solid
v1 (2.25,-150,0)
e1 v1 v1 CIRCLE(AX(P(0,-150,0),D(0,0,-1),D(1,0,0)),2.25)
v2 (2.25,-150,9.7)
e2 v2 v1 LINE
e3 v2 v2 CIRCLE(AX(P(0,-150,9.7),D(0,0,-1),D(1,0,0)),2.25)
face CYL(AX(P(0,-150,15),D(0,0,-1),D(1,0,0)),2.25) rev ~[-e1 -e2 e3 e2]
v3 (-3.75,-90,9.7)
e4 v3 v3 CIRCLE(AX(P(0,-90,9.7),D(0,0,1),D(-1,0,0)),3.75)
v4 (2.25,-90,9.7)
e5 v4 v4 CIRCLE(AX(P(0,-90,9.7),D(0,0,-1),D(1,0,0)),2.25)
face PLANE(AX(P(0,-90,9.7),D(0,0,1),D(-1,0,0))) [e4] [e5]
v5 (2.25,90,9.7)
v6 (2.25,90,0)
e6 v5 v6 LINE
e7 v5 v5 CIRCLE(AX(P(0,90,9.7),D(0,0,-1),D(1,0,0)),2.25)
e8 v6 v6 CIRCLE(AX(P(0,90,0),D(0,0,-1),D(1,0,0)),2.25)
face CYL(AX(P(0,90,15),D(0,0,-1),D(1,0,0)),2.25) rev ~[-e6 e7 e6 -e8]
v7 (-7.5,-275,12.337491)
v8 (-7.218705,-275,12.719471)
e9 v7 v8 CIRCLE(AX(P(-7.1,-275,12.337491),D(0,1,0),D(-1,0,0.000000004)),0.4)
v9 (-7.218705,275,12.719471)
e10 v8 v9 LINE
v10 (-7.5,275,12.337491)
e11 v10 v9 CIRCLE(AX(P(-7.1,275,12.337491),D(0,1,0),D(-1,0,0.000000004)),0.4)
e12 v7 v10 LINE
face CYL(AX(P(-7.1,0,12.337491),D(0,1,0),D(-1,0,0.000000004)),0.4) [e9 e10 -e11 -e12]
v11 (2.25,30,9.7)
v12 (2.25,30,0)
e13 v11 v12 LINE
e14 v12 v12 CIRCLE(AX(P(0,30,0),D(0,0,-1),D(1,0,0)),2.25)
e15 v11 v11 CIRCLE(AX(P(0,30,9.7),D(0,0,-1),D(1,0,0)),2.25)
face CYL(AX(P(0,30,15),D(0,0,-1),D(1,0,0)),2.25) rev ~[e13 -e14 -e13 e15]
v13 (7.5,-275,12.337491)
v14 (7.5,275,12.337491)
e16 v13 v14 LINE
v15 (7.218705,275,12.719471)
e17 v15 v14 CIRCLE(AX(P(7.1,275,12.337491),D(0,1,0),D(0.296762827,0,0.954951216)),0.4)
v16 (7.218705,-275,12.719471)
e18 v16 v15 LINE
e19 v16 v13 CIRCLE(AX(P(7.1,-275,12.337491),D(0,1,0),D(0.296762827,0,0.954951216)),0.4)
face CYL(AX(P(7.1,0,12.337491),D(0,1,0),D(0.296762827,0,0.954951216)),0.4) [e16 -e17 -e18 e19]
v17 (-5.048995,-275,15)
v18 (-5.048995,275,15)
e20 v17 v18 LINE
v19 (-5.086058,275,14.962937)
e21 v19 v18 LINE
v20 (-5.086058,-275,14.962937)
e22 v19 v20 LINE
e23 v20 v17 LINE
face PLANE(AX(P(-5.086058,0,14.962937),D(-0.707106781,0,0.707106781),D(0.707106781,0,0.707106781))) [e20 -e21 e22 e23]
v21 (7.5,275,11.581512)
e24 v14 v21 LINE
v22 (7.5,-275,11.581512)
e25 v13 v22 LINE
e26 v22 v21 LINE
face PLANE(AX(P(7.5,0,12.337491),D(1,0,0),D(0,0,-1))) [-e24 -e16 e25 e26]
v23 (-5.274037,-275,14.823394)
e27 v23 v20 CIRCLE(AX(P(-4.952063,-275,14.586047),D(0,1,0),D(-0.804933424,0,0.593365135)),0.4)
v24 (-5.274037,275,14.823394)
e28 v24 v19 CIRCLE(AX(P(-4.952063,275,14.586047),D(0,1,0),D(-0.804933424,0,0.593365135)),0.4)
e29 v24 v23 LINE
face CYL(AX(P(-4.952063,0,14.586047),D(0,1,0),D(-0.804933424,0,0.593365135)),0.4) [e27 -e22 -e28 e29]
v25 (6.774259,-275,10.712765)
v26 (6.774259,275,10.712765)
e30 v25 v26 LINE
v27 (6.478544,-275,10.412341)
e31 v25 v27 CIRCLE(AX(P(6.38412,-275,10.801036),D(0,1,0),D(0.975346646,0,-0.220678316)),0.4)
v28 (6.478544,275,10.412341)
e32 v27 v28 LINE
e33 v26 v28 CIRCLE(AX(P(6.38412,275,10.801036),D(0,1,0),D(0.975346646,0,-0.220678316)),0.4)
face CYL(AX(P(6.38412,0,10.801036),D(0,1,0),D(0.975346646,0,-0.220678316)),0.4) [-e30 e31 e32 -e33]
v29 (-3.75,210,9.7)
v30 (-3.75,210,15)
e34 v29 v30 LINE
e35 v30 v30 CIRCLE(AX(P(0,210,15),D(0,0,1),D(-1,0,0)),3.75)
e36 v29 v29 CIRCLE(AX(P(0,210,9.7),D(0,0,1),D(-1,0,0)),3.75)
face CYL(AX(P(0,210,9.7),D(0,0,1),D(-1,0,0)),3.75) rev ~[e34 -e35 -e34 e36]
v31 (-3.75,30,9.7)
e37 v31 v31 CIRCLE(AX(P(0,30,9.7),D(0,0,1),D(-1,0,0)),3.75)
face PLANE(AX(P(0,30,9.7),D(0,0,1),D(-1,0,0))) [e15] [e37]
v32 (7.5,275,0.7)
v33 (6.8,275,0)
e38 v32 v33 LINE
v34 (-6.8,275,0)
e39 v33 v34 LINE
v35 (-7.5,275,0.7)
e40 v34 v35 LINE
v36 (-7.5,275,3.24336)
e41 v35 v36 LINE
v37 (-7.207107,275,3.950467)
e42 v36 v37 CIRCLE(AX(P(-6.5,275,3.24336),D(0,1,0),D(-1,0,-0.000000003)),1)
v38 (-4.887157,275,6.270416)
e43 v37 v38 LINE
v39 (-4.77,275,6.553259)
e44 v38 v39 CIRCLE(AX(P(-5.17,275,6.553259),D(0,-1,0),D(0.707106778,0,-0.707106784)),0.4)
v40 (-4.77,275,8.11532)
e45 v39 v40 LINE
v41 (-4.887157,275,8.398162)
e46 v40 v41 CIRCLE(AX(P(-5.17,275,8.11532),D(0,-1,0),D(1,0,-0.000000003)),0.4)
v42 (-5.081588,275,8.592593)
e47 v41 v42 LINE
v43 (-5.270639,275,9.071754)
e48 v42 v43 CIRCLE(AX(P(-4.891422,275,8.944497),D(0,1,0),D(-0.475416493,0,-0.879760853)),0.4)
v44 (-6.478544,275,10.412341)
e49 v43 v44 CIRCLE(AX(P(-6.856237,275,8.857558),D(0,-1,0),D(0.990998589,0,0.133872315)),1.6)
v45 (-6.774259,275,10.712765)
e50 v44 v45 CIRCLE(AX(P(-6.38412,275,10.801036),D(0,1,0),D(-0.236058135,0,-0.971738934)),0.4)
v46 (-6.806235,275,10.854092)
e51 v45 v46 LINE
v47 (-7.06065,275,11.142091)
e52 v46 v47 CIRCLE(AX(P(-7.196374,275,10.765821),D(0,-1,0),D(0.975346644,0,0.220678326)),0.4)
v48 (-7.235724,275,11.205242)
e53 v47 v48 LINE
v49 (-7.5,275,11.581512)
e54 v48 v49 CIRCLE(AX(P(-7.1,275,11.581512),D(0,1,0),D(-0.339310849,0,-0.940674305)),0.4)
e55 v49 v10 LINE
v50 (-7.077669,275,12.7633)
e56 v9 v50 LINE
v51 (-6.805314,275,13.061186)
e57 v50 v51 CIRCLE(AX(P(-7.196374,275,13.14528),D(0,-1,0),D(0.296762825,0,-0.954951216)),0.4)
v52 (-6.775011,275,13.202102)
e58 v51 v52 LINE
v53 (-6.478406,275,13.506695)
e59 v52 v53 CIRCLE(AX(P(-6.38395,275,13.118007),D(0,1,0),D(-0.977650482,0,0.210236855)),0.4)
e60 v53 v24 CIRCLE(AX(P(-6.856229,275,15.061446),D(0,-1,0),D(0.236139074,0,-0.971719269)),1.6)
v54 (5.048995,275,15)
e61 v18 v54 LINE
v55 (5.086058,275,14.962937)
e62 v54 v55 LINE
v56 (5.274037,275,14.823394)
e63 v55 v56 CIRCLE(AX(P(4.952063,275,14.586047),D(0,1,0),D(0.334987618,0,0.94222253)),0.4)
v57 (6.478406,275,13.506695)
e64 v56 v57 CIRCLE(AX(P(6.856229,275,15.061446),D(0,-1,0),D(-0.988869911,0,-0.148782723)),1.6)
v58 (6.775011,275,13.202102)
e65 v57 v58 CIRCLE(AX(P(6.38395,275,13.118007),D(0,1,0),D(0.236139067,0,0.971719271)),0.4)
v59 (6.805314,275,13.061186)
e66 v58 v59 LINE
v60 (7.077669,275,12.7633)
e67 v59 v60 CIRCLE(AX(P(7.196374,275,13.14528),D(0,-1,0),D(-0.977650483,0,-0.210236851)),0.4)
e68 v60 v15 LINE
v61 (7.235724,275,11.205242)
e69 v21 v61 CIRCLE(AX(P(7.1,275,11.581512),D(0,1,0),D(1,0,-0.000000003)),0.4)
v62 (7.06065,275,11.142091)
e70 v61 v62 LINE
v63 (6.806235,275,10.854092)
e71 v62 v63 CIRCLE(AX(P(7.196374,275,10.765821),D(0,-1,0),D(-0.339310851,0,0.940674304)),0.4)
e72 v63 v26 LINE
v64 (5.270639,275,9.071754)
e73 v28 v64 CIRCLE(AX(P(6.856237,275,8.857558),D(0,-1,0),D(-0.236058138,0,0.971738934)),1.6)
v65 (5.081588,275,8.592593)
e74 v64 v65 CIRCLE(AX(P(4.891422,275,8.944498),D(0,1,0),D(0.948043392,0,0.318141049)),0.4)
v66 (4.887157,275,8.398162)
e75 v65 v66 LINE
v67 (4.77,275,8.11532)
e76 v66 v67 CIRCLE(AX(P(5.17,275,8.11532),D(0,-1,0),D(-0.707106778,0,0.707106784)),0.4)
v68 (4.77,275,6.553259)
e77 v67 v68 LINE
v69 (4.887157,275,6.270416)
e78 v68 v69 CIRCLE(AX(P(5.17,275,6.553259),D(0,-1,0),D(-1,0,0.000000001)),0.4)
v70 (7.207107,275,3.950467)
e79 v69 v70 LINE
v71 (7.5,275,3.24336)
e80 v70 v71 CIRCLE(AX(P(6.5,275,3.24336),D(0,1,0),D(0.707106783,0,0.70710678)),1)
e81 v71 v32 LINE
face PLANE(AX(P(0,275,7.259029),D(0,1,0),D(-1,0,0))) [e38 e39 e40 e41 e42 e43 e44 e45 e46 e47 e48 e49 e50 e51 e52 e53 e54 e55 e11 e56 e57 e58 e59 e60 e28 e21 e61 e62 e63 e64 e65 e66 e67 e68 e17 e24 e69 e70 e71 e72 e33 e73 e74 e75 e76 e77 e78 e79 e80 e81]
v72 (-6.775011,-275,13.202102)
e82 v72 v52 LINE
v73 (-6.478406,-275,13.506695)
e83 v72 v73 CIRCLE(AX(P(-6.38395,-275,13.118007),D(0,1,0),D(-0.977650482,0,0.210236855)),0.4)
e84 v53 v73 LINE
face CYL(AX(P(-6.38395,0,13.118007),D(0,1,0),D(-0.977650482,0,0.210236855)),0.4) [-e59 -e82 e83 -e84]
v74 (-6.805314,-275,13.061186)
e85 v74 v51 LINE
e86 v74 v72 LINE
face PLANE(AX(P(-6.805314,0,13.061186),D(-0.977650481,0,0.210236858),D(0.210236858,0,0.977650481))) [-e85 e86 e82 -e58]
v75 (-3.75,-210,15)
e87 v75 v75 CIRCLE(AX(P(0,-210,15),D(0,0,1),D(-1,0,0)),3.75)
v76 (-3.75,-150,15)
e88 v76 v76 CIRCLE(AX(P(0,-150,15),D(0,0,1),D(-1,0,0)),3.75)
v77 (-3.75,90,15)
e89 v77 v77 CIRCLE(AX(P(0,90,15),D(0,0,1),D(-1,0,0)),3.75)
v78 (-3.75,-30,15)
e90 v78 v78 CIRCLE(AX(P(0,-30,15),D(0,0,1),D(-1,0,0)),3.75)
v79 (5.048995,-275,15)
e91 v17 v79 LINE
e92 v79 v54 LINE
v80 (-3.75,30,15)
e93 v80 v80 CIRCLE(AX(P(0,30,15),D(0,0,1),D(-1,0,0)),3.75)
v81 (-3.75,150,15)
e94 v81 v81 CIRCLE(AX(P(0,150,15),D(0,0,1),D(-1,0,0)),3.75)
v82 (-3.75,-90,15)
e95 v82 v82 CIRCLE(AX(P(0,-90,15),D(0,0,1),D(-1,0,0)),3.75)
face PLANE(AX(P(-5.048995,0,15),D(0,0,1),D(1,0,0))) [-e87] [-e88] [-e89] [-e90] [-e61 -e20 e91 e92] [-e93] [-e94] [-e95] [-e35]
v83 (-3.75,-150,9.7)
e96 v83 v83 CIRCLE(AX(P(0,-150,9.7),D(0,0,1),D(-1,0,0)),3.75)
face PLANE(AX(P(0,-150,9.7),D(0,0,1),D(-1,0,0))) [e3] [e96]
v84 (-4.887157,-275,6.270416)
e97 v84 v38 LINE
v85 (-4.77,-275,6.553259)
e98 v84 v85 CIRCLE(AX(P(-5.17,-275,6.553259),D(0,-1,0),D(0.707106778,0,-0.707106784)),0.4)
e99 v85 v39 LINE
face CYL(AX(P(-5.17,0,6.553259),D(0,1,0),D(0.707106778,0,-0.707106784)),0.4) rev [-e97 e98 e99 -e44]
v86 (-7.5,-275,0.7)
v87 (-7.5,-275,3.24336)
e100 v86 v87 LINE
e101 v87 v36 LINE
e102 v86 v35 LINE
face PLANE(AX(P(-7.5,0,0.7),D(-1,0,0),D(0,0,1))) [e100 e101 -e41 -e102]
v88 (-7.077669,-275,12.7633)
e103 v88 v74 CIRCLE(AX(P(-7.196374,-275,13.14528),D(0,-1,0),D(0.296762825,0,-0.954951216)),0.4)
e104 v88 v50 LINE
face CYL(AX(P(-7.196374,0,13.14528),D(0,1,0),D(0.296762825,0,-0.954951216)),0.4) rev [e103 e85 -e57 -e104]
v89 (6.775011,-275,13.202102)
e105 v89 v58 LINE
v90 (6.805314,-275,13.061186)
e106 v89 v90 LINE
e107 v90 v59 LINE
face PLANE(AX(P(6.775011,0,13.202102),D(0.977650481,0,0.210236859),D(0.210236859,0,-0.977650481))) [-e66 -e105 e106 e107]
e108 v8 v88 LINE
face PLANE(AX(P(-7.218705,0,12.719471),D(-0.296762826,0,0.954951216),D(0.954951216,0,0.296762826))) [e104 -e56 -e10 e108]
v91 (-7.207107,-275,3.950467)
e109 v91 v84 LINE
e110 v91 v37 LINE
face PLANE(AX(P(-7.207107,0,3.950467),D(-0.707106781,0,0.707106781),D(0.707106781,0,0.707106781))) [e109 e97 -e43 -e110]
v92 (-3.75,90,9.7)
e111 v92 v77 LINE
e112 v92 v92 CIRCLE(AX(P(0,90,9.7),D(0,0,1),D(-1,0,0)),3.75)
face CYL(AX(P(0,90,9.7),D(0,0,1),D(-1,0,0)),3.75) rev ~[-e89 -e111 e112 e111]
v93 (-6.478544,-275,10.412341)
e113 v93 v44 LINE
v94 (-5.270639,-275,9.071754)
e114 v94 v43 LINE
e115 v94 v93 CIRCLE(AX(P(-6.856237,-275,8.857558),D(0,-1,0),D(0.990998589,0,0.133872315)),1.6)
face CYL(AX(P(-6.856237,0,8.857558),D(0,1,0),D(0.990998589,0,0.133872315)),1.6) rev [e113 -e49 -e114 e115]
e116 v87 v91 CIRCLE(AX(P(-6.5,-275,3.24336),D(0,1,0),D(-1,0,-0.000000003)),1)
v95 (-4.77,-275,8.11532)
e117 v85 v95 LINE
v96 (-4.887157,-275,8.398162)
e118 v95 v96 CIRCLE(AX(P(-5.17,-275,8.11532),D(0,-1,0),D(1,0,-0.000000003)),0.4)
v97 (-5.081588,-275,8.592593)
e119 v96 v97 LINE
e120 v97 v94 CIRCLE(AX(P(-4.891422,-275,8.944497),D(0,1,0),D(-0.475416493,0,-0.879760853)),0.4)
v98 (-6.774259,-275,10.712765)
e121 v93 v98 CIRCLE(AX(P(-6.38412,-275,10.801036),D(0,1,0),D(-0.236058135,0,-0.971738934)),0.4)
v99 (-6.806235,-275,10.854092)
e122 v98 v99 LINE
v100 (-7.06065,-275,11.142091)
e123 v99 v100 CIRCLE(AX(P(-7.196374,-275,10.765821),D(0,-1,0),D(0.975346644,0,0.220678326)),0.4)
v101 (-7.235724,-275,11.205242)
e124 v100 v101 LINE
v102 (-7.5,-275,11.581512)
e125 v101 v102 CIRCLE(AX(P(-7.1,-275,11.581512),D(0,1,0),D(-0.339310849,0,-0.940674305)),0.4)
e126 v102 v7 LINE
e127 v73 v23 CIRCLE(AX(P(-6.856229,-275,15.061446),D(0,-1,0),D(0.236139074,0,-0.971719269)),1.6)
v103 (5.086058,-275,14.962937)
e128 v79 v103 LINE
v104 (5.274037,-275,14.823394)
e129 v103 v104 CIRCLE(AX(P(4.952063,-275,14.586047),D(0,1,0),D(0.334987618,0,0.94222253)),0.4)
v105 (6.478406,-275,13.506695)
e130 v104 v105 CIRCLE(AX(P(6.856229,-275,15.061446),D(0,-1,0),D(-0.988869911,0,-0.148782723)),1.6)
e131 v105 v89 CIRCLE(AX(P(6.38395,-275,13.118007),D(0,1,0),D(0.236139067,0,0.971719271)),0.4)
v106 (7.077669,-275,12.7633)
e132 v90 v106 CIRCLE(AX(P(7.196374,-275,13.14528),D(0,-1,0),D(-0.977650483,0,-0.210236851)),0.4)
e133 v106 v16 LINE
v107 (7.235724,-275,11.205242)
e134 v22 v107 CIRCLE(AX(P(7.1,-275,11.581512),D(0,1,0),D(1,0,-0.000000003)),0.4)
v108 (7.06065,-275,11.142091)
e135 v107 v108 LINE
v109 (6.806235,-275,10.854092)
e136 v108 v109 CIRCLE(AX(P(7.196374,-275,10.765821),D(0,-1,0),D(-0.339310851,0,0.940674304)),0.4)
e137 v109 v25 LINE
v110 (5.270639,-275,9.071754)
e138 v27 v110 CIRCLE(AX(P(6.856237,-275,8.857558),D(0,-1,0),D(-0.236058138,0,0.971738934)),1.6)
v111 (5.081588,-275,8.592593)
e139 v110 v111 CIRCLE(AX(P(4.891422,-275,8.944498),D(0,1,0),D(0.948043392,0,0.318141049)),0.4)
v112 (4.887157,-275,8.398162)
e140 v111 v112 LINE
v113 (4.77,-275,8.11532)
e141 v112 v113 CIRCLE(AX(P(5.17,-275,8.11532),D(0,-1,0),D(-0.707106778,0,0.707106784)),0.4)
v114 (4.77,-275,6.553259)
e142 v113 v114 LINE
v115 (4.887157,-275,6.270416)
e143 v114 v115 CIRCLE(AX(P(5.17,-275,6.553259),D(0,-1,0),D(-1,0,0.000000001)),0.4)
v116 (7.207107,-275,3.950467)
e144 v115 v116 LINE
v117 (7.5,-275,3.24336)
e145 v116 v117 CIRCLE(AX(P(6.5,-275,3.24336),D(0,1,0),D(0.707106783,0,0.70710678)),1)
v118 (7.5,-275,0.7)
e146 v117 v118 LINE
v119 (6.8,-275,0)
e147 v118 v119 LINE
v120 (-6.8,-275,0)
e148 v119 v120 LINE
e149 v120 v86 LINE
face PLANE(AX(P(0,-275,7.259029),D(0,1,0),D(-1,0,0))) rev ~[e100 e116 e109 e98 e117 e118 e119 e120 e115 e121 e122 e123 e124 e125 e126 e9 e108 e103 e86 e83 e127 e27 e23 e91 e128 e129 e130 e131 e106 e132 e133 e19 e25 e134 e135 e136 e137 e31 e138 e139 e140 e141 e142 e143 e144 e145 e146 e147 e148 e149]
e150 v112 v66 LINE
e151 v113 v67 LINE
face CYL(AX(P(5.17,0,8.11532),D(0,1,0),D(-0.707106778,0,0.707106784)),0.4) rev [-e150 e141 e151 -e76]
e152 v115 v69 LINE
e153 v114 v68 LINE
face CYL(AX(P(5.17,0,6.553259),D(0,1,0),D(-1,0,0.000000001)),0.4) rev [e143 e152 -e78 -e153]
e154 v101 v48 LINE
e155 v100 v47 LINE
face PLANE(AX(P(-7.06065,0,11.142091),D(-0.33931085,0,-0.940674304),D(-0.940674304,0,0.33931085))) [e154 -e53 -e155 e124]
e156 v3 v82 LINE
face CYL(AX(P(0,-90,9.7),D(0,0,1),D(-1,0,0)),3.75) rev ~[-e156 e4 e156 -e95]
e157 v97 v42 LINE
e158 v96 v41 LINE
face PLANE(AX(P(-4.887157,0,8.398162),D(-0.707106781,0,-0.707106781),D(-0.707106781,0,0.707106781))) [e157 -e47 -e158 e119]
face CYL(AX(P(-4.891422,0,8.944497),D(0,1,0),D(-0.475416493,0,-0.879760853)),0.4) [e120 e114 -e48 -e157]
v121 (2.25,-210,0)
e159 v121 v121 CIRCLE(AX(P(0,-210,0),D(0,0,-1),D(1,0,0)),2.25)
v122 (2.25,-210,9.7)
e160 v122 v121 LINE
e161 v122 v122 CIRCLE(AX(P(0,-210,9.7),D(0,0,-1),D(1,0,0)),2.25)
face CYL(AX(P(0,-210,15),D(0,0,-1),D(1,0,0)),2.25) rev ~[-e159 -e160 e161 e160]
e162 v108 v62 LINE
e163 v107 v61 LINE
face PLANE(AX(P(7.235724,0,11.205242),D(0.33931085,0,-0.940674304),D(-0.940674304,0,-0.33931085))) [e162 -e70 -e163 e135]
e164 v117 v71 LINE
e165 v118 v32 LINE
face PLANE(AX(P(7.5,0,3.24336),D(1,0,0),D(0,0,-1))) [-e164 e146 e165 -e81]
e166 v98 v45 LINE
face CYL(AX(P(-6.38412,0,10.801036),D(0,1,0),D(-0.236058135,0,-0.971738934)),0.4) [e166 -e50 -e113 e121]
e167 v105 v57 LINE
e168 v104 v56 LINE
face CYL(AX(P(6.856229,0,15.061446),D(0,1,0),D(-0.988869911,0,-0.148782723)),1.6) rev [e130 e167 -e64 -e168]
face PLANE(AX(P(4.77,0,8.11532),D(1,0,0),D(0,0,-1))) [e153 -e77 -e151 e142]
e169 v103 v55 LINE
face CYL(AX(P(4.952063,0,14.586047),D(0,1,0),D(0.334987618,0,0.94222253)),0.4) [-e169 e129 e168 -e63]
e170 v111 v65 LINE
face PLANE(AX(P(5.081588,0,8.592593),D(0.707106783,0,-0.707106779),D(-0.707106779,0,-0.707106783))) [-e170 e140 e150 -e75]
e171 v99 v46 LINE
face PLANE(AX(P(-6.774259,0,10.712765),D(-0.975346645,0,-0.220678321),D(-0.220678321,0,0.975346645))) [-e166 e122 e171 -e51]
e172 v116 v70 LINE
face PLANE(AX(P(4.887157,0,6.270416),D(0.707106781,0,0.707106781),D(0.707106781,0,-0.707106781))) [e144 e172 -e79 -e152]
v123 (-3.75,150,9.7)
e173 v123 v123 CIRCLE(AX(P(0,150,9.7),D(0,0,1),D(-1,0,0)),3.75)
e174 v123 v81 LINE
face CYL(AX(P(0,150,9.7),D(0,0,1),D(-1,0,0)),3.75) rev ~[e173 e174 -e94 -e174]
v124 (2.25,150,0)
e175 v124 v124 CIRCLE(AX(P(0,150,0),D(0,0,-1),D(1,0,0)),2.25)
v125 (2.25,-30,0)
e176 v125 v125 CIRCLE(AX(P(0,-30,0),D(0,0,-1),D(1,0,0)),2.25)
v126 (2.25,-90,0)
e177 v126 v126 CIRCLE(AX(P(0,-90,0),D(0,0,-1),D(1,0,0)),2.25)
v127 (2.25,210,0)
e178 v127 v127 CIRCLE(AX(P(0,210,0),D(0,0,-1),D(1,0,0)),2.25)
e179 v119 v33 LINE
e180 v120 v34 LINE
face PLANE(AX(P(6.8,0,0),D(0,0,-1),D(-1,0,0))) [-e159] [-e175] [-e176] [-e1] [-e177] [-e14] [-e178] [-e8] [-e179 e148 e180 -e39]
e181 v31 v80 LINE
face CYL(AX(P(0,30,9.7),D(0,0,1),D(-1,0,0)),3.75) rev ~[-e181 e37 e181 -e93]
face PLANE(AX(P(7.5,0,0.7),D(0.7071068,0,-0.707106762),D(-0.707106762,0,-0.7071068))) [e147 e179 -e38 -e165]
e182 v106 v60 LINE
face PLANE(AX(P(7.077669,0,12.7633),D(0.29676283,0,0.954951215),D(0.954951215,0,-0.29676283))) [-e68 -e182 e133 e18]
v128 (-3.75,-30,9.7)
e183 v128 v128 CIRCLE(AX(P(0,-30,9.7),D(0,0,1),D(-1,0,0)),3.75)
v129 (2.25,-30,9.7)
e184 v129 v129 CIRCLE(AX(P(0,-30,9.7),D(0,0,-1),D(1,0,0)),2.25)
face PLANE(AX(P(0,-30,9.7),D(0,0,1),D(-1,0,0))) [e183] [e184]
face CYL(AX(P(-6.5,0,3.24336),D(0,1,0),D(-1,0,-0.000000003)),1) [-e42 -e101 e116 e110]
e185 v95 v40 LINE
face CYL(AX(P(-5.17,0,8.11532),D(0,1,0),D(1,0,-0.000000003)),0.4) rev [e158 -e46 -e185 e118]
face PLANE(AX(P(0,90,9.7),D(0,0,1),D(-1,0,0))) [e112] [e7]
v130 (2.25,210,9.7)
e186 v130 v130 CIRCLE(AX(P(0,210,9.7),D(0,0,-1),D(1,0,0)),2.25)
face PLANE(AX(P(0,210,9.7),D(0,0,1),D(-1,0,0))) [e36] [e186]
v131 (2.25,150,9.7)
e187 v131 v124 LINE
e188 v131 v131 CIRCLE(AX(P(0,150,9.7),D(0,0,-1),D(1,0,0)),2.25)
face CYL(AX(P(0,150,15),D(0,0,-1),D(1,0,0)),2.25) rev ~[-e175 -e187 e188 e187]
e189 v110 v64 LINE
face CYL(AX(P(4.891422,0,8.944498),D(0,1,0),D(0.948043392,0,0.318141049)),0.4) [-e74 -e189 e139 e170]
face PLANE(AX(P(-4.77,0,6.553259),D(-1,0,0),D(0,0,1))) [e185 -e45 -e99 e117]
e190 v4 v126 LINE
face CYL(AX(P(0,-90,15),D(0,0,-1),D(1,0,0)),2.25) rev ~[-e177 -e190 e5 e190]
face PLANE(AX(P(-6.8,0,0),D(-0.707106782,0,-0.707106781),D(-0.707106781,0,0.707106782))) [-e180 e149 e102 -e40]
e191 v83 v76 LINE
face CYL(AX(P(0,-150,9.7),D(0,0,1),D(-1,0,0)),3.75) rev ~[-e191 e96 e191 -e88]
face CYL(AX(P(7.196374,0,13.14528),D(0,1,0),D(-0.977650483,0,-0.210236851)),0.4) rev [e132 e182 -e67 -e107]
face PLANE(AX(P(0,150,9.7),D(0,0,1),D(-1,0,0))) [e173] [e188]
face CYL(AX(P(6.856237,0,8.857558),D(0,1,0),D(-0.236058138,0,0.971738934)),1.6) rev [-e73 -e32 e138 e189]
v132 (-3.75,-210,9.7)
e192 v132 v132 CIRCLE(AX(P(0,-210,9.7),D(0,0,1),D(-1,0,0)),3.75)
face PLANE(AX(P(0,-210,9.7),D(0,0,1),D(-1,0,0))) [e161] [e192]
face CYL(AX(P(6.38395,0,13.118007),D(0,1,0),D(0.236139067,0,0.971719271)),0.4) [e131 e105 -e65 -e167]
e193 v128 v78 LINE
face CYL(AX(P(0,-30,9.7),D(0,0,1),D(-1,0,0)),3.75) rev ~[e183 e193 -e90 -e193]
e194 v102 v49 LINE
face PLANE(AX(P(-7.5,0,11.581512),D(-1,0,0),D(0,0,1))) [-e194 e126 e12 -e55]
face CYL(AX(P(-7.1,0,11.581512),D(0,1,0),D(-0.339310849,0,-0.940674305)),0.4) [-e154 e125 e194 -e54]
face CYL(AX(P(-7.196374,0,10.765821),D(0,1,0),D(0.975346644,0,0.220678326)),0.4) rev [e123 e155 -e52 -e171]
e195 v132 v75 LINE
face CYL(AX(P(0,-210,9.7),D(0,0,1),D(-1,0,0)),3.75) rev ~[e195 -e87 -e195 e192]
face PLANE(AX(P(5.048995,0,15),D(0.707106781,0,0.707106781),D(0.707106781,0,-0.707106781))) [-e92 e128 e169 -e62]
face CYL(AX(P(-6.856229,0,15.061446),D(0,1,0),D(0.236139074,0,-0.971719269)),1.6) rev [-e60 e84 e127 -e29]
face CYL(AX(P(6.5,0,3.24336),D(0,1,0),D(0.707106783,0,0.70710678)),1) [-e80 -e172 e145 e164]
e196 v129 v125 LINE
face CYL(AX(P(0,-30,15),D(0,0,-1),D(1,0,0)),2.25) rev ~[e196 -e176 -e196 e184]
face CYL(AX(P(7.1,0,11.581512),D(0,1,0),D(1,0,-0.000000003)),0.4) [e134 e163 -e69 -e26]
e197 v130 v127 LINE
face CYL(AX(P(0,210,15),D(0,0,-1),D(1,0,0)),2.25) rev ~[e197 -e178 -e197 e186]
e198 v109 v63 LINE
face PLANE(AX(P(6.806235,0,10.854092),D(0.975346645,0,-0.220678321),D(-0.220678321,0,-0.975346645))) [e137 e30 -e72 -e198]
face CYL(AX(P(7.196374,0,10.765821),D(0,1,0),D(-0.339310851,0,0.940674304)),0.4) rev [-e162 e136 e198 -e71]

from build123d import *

# Parameters (mm, degrees)
AUFSATZ_LINEAR_AUSTRAGEN2_DEPTH                      = 275
STIRNSENKUNG_F_R_M4_ZYLINDERSCHRAUBE_MIT_D           = 4.5
STIRNSENKUNG_F_R_M4_ZYLINDERSCHRAUBE_MIT_CBORE_D     = 7.5
STIRNSENKUNG_F_R_M4_ZYLINDERSCHRAUBE_MIT_CBORE_DEPTH = 5.3
LINEARES_MUSTER1_COUNT                               = 5
LINEARES_MUSTER1_PITCH                               = 60
LINEARES_MUSTER1_COL_COUNT                           = 4
LINEARES_MUSTER1_COL_PITCH                           = 60


with BuildPart() as part:
    # Skizze20 → Aufsatz-Linear austragen2 (new body, symmetric)
    with BuildSketch(Plane(origin=(0, 0, 0), x_dir=(-1, 0, 0), z_dir=(0, 1, 0))):
        with BuildLine():
            Line((5.086058415, 14.962936516), (5.048994965, 14.999999966))
            Line((5.048994965, 14.999999966), (-5.048994935, 14.999999966))
            Line((-5.048994935, 14.999999966), (-5.086058385, 14.962936516))
            ThreePointArc((-5.086058385, 14.962936516), (-5.190484939, 14.907225244), (-5.274036713, 14.823393555))
            ThreePointArc((-5.274036713, 14.823393555), (-5.675619489, 13.981556013), (-6.478406056, 13.506695083))
            ThreePointArc((-6.478406056, 13.506695083), (-6.670526117, 13.397067183), (-6.775010631, 13.202102106))
            Line((-6.775010631, 13.202102106), (-6.80531374, 13.061185574))
            ThreePointArc((-6.80531374, 13.061185574), (-6.901163586, 12.875371344), (-7.077668811, 12.763299819))
            Line((-7.077668811, 12.763299819), (-7.218705101, 12.719471058))
            ThreePointArc((-7.218705101, 12.719471058), (-7.422088515, 12.574680309), (-7.49999998, 12.337490558))
            Line((-7.49999998, 12.337490558), (-7.49999998, 11.58151164))
            ThreePointArc((-7.49999998, 11.58151164), (-7.427329884, 11.351609192), (-7.23572431, 11.205241905))
            Line((-7.23572431, 11.205241905), (-7.060649561, 11.142090651))
            ThreePointArc((-7.060649561, 11.142090651), (-6.896592739, 11.030643995), (-6.806235234, 10.854092247))
            Line((-6.806235234, 10.854092247), (-6.774259003, 10.712764773))
            ThreePointArc((-6.774259003, 10.712764773), (-6.669188305, 10.520436279), (-6.47854359, 10.412340517))
            ThreePointArc((-6.47854359, 10.412340517), (-5.667573181, 9.928576079), (-5.270638873, 9.071753932))
            ThreePointArc((-5.270638873, 9.071753932), (-5.263507905, 8.797692466), (-5.081588111, 8.592593158))
            Line((-5.081588111, 8.592593158), (-4.887157216, 8.398162262))
            ThreePointArc((-4.887157216, 8.398162262), (-4.800448112, 8.268392918), (-4.769999924, 8.11531954))
            Line((-4.769999924, 8.11531954), (-4.769999924, 6.55325896))
            ThreePointArc((-4.769999924, 6.55325896), (-4.800448112, 6.400185582), (-4.887157216, 6.270416238))
            Line((-4.887157216, 6.270416238), (-7.207106753, 3.950466701))
            ThreePointArc((-7.207106753, 3.950466701), (-7.42387951, 3.626043343), (-7.49999998, 3.2433599))
            Line((-7.49999998, 3.2433599), (-7.49999998, 0.700000002))
            Line((-7.49999998, 0.700000002), (-6.800000016, 0))
            Line((-6.800000016, 0), (6.800000018, 0))
            Line((6.800000018, 0), (7.5, 0.699999983))
            Line((7.5, 0.699999983), (7.5, 3.24335988))
            ThreePointArc((7.5, 3.24335988), (7.423879531, 3.626043323), (7.207106773, 3.950466681))
            Line((7.207106773, 3.950466681), (4.887157237, 6.270416218))
            ThreePointArc((4.887157237, 6.270416218), (4.800448133, 6.400185562), (4.769999945, 6.553258941))
            Line((4.769999945, 6.553258941), (4.769999945, 8.11531952))
            ThreePointArc((4.769999945, 8.11531952), (4.800448133, 8.268392899), (4.887157237, 8.398162243))
            Line((4.887157237, 8.398162243), (5.081588132, 8.592593138))
            ThreePointArc((5.081588132, 8.592593138), (5.263507933, 8.797692455), (5.270638894, 9.071753931))
            ThreePointArc((5.270638894, 9.071753931), (5.667573202, 9.928576078), (6.478543611, 10.412340516))
            ThreePointArc((6.478543611, 10.412340516), (6.669188326, 10.520436278), (6.774259024, 10.712764772))
            Line((6.774259024, 10.712764772), (6.806235255, 10.854092246))
            ThreePointArc((6.806235255, 10.854092246), (6.89659276, 11.030643993), (7.060649582, 11.14209065))
            Line((7.060649582, 11.14209065), (7.235724331, 11.205241904))
            ThreePointArc((7.235724331, 11.205241904), (7.427329905, 11.351609191), (7.5, 11.581511639))
            Line((7.5, 11.581511639), (7.5, 12.337490557))
            ThreePointArc((7.5, 12.337490557), (7.422088535, 12.574680307), (7.218705121, 12.719471057))
            Line((7.218705121, 12.719471057), (7.077668832, 12.763299817))
            ThreePointArc((7.077668832, 12.763299817), (6.901163607, 12.875371342), (6.805313761, 13.061185572))
            Line((6.805313761, 13.061185572), (6.775010652, 13.202102105))
            ThreePointArc((6.775010652, 13.202102105), (6.670526139, 13.39706718), (6.478406079, 13.506695081))
            ThreePointArc((6.478406079, 13.506695081), (5.675619515, 13.981556013), (5.274036742, 14.823393555))
            ThreePointArc((5.274036742, 14.823393555), (5.190484969, 14.907225244), (5.086058415, 14.962936516))
        make_face()
    extrude(amount=AUFSATZ_LINEAR_AUSTRAGEN2_DEPTH, both=True)

    # Stirnsenkung für M4 Zylinderschraube mit Innensechskant1 (through all)
    with Locations(Plane(origin=(0, 0, 14.999999966), x_dir=(-1, 0, 0), z_dir=(0, 0, 1))):
        with Locations((1.5e-08, 30)):
            stirnsenkung_f_r_m4_zylinderschraube_mit = CounterBoreHole(STIRNSENKUNG_F_R_M4_ZYLINDERSCHRAUBE_MIT_D / 2, STIRNSENKUNG_F_R_M4_ZYLINDERSCHRAUBE_MIT_CBORE_D / 2, STIRNSENKUNG_F_R_M4_ZYLINDERSCHRAUBE_MIT_CBORE_DEPTH)

    # Lineares Muster1: Stirnsenkung für M4 Zylinderschraube mit Innensechskant1 ×5
    with Locations(*[(0, i * LINEARES_MUSTER1_PITCH, 0) for i in range(1, LINEARES_MUSTER1_COUNT)]):
        add(stirnsenkung_f_r_m4_zylinderschraube_mit, mode=Mode.SUBTRACT)

    # Lineares Muster1 col: Stirnsenkung für M4 Zylinderschraube mit Innensechskant1 ×4
    with Locations(*[(0, -i * LINEARES_MUSTER1_COL_PITCH, 0) for i in range(1, LINEARES_MUSTER1_COL_COUNT)]):
        add(stirnsenkung_f_r_m4_zylinderschraube_mit, mode=Mode.SUBTRACT)


solid = part.part
